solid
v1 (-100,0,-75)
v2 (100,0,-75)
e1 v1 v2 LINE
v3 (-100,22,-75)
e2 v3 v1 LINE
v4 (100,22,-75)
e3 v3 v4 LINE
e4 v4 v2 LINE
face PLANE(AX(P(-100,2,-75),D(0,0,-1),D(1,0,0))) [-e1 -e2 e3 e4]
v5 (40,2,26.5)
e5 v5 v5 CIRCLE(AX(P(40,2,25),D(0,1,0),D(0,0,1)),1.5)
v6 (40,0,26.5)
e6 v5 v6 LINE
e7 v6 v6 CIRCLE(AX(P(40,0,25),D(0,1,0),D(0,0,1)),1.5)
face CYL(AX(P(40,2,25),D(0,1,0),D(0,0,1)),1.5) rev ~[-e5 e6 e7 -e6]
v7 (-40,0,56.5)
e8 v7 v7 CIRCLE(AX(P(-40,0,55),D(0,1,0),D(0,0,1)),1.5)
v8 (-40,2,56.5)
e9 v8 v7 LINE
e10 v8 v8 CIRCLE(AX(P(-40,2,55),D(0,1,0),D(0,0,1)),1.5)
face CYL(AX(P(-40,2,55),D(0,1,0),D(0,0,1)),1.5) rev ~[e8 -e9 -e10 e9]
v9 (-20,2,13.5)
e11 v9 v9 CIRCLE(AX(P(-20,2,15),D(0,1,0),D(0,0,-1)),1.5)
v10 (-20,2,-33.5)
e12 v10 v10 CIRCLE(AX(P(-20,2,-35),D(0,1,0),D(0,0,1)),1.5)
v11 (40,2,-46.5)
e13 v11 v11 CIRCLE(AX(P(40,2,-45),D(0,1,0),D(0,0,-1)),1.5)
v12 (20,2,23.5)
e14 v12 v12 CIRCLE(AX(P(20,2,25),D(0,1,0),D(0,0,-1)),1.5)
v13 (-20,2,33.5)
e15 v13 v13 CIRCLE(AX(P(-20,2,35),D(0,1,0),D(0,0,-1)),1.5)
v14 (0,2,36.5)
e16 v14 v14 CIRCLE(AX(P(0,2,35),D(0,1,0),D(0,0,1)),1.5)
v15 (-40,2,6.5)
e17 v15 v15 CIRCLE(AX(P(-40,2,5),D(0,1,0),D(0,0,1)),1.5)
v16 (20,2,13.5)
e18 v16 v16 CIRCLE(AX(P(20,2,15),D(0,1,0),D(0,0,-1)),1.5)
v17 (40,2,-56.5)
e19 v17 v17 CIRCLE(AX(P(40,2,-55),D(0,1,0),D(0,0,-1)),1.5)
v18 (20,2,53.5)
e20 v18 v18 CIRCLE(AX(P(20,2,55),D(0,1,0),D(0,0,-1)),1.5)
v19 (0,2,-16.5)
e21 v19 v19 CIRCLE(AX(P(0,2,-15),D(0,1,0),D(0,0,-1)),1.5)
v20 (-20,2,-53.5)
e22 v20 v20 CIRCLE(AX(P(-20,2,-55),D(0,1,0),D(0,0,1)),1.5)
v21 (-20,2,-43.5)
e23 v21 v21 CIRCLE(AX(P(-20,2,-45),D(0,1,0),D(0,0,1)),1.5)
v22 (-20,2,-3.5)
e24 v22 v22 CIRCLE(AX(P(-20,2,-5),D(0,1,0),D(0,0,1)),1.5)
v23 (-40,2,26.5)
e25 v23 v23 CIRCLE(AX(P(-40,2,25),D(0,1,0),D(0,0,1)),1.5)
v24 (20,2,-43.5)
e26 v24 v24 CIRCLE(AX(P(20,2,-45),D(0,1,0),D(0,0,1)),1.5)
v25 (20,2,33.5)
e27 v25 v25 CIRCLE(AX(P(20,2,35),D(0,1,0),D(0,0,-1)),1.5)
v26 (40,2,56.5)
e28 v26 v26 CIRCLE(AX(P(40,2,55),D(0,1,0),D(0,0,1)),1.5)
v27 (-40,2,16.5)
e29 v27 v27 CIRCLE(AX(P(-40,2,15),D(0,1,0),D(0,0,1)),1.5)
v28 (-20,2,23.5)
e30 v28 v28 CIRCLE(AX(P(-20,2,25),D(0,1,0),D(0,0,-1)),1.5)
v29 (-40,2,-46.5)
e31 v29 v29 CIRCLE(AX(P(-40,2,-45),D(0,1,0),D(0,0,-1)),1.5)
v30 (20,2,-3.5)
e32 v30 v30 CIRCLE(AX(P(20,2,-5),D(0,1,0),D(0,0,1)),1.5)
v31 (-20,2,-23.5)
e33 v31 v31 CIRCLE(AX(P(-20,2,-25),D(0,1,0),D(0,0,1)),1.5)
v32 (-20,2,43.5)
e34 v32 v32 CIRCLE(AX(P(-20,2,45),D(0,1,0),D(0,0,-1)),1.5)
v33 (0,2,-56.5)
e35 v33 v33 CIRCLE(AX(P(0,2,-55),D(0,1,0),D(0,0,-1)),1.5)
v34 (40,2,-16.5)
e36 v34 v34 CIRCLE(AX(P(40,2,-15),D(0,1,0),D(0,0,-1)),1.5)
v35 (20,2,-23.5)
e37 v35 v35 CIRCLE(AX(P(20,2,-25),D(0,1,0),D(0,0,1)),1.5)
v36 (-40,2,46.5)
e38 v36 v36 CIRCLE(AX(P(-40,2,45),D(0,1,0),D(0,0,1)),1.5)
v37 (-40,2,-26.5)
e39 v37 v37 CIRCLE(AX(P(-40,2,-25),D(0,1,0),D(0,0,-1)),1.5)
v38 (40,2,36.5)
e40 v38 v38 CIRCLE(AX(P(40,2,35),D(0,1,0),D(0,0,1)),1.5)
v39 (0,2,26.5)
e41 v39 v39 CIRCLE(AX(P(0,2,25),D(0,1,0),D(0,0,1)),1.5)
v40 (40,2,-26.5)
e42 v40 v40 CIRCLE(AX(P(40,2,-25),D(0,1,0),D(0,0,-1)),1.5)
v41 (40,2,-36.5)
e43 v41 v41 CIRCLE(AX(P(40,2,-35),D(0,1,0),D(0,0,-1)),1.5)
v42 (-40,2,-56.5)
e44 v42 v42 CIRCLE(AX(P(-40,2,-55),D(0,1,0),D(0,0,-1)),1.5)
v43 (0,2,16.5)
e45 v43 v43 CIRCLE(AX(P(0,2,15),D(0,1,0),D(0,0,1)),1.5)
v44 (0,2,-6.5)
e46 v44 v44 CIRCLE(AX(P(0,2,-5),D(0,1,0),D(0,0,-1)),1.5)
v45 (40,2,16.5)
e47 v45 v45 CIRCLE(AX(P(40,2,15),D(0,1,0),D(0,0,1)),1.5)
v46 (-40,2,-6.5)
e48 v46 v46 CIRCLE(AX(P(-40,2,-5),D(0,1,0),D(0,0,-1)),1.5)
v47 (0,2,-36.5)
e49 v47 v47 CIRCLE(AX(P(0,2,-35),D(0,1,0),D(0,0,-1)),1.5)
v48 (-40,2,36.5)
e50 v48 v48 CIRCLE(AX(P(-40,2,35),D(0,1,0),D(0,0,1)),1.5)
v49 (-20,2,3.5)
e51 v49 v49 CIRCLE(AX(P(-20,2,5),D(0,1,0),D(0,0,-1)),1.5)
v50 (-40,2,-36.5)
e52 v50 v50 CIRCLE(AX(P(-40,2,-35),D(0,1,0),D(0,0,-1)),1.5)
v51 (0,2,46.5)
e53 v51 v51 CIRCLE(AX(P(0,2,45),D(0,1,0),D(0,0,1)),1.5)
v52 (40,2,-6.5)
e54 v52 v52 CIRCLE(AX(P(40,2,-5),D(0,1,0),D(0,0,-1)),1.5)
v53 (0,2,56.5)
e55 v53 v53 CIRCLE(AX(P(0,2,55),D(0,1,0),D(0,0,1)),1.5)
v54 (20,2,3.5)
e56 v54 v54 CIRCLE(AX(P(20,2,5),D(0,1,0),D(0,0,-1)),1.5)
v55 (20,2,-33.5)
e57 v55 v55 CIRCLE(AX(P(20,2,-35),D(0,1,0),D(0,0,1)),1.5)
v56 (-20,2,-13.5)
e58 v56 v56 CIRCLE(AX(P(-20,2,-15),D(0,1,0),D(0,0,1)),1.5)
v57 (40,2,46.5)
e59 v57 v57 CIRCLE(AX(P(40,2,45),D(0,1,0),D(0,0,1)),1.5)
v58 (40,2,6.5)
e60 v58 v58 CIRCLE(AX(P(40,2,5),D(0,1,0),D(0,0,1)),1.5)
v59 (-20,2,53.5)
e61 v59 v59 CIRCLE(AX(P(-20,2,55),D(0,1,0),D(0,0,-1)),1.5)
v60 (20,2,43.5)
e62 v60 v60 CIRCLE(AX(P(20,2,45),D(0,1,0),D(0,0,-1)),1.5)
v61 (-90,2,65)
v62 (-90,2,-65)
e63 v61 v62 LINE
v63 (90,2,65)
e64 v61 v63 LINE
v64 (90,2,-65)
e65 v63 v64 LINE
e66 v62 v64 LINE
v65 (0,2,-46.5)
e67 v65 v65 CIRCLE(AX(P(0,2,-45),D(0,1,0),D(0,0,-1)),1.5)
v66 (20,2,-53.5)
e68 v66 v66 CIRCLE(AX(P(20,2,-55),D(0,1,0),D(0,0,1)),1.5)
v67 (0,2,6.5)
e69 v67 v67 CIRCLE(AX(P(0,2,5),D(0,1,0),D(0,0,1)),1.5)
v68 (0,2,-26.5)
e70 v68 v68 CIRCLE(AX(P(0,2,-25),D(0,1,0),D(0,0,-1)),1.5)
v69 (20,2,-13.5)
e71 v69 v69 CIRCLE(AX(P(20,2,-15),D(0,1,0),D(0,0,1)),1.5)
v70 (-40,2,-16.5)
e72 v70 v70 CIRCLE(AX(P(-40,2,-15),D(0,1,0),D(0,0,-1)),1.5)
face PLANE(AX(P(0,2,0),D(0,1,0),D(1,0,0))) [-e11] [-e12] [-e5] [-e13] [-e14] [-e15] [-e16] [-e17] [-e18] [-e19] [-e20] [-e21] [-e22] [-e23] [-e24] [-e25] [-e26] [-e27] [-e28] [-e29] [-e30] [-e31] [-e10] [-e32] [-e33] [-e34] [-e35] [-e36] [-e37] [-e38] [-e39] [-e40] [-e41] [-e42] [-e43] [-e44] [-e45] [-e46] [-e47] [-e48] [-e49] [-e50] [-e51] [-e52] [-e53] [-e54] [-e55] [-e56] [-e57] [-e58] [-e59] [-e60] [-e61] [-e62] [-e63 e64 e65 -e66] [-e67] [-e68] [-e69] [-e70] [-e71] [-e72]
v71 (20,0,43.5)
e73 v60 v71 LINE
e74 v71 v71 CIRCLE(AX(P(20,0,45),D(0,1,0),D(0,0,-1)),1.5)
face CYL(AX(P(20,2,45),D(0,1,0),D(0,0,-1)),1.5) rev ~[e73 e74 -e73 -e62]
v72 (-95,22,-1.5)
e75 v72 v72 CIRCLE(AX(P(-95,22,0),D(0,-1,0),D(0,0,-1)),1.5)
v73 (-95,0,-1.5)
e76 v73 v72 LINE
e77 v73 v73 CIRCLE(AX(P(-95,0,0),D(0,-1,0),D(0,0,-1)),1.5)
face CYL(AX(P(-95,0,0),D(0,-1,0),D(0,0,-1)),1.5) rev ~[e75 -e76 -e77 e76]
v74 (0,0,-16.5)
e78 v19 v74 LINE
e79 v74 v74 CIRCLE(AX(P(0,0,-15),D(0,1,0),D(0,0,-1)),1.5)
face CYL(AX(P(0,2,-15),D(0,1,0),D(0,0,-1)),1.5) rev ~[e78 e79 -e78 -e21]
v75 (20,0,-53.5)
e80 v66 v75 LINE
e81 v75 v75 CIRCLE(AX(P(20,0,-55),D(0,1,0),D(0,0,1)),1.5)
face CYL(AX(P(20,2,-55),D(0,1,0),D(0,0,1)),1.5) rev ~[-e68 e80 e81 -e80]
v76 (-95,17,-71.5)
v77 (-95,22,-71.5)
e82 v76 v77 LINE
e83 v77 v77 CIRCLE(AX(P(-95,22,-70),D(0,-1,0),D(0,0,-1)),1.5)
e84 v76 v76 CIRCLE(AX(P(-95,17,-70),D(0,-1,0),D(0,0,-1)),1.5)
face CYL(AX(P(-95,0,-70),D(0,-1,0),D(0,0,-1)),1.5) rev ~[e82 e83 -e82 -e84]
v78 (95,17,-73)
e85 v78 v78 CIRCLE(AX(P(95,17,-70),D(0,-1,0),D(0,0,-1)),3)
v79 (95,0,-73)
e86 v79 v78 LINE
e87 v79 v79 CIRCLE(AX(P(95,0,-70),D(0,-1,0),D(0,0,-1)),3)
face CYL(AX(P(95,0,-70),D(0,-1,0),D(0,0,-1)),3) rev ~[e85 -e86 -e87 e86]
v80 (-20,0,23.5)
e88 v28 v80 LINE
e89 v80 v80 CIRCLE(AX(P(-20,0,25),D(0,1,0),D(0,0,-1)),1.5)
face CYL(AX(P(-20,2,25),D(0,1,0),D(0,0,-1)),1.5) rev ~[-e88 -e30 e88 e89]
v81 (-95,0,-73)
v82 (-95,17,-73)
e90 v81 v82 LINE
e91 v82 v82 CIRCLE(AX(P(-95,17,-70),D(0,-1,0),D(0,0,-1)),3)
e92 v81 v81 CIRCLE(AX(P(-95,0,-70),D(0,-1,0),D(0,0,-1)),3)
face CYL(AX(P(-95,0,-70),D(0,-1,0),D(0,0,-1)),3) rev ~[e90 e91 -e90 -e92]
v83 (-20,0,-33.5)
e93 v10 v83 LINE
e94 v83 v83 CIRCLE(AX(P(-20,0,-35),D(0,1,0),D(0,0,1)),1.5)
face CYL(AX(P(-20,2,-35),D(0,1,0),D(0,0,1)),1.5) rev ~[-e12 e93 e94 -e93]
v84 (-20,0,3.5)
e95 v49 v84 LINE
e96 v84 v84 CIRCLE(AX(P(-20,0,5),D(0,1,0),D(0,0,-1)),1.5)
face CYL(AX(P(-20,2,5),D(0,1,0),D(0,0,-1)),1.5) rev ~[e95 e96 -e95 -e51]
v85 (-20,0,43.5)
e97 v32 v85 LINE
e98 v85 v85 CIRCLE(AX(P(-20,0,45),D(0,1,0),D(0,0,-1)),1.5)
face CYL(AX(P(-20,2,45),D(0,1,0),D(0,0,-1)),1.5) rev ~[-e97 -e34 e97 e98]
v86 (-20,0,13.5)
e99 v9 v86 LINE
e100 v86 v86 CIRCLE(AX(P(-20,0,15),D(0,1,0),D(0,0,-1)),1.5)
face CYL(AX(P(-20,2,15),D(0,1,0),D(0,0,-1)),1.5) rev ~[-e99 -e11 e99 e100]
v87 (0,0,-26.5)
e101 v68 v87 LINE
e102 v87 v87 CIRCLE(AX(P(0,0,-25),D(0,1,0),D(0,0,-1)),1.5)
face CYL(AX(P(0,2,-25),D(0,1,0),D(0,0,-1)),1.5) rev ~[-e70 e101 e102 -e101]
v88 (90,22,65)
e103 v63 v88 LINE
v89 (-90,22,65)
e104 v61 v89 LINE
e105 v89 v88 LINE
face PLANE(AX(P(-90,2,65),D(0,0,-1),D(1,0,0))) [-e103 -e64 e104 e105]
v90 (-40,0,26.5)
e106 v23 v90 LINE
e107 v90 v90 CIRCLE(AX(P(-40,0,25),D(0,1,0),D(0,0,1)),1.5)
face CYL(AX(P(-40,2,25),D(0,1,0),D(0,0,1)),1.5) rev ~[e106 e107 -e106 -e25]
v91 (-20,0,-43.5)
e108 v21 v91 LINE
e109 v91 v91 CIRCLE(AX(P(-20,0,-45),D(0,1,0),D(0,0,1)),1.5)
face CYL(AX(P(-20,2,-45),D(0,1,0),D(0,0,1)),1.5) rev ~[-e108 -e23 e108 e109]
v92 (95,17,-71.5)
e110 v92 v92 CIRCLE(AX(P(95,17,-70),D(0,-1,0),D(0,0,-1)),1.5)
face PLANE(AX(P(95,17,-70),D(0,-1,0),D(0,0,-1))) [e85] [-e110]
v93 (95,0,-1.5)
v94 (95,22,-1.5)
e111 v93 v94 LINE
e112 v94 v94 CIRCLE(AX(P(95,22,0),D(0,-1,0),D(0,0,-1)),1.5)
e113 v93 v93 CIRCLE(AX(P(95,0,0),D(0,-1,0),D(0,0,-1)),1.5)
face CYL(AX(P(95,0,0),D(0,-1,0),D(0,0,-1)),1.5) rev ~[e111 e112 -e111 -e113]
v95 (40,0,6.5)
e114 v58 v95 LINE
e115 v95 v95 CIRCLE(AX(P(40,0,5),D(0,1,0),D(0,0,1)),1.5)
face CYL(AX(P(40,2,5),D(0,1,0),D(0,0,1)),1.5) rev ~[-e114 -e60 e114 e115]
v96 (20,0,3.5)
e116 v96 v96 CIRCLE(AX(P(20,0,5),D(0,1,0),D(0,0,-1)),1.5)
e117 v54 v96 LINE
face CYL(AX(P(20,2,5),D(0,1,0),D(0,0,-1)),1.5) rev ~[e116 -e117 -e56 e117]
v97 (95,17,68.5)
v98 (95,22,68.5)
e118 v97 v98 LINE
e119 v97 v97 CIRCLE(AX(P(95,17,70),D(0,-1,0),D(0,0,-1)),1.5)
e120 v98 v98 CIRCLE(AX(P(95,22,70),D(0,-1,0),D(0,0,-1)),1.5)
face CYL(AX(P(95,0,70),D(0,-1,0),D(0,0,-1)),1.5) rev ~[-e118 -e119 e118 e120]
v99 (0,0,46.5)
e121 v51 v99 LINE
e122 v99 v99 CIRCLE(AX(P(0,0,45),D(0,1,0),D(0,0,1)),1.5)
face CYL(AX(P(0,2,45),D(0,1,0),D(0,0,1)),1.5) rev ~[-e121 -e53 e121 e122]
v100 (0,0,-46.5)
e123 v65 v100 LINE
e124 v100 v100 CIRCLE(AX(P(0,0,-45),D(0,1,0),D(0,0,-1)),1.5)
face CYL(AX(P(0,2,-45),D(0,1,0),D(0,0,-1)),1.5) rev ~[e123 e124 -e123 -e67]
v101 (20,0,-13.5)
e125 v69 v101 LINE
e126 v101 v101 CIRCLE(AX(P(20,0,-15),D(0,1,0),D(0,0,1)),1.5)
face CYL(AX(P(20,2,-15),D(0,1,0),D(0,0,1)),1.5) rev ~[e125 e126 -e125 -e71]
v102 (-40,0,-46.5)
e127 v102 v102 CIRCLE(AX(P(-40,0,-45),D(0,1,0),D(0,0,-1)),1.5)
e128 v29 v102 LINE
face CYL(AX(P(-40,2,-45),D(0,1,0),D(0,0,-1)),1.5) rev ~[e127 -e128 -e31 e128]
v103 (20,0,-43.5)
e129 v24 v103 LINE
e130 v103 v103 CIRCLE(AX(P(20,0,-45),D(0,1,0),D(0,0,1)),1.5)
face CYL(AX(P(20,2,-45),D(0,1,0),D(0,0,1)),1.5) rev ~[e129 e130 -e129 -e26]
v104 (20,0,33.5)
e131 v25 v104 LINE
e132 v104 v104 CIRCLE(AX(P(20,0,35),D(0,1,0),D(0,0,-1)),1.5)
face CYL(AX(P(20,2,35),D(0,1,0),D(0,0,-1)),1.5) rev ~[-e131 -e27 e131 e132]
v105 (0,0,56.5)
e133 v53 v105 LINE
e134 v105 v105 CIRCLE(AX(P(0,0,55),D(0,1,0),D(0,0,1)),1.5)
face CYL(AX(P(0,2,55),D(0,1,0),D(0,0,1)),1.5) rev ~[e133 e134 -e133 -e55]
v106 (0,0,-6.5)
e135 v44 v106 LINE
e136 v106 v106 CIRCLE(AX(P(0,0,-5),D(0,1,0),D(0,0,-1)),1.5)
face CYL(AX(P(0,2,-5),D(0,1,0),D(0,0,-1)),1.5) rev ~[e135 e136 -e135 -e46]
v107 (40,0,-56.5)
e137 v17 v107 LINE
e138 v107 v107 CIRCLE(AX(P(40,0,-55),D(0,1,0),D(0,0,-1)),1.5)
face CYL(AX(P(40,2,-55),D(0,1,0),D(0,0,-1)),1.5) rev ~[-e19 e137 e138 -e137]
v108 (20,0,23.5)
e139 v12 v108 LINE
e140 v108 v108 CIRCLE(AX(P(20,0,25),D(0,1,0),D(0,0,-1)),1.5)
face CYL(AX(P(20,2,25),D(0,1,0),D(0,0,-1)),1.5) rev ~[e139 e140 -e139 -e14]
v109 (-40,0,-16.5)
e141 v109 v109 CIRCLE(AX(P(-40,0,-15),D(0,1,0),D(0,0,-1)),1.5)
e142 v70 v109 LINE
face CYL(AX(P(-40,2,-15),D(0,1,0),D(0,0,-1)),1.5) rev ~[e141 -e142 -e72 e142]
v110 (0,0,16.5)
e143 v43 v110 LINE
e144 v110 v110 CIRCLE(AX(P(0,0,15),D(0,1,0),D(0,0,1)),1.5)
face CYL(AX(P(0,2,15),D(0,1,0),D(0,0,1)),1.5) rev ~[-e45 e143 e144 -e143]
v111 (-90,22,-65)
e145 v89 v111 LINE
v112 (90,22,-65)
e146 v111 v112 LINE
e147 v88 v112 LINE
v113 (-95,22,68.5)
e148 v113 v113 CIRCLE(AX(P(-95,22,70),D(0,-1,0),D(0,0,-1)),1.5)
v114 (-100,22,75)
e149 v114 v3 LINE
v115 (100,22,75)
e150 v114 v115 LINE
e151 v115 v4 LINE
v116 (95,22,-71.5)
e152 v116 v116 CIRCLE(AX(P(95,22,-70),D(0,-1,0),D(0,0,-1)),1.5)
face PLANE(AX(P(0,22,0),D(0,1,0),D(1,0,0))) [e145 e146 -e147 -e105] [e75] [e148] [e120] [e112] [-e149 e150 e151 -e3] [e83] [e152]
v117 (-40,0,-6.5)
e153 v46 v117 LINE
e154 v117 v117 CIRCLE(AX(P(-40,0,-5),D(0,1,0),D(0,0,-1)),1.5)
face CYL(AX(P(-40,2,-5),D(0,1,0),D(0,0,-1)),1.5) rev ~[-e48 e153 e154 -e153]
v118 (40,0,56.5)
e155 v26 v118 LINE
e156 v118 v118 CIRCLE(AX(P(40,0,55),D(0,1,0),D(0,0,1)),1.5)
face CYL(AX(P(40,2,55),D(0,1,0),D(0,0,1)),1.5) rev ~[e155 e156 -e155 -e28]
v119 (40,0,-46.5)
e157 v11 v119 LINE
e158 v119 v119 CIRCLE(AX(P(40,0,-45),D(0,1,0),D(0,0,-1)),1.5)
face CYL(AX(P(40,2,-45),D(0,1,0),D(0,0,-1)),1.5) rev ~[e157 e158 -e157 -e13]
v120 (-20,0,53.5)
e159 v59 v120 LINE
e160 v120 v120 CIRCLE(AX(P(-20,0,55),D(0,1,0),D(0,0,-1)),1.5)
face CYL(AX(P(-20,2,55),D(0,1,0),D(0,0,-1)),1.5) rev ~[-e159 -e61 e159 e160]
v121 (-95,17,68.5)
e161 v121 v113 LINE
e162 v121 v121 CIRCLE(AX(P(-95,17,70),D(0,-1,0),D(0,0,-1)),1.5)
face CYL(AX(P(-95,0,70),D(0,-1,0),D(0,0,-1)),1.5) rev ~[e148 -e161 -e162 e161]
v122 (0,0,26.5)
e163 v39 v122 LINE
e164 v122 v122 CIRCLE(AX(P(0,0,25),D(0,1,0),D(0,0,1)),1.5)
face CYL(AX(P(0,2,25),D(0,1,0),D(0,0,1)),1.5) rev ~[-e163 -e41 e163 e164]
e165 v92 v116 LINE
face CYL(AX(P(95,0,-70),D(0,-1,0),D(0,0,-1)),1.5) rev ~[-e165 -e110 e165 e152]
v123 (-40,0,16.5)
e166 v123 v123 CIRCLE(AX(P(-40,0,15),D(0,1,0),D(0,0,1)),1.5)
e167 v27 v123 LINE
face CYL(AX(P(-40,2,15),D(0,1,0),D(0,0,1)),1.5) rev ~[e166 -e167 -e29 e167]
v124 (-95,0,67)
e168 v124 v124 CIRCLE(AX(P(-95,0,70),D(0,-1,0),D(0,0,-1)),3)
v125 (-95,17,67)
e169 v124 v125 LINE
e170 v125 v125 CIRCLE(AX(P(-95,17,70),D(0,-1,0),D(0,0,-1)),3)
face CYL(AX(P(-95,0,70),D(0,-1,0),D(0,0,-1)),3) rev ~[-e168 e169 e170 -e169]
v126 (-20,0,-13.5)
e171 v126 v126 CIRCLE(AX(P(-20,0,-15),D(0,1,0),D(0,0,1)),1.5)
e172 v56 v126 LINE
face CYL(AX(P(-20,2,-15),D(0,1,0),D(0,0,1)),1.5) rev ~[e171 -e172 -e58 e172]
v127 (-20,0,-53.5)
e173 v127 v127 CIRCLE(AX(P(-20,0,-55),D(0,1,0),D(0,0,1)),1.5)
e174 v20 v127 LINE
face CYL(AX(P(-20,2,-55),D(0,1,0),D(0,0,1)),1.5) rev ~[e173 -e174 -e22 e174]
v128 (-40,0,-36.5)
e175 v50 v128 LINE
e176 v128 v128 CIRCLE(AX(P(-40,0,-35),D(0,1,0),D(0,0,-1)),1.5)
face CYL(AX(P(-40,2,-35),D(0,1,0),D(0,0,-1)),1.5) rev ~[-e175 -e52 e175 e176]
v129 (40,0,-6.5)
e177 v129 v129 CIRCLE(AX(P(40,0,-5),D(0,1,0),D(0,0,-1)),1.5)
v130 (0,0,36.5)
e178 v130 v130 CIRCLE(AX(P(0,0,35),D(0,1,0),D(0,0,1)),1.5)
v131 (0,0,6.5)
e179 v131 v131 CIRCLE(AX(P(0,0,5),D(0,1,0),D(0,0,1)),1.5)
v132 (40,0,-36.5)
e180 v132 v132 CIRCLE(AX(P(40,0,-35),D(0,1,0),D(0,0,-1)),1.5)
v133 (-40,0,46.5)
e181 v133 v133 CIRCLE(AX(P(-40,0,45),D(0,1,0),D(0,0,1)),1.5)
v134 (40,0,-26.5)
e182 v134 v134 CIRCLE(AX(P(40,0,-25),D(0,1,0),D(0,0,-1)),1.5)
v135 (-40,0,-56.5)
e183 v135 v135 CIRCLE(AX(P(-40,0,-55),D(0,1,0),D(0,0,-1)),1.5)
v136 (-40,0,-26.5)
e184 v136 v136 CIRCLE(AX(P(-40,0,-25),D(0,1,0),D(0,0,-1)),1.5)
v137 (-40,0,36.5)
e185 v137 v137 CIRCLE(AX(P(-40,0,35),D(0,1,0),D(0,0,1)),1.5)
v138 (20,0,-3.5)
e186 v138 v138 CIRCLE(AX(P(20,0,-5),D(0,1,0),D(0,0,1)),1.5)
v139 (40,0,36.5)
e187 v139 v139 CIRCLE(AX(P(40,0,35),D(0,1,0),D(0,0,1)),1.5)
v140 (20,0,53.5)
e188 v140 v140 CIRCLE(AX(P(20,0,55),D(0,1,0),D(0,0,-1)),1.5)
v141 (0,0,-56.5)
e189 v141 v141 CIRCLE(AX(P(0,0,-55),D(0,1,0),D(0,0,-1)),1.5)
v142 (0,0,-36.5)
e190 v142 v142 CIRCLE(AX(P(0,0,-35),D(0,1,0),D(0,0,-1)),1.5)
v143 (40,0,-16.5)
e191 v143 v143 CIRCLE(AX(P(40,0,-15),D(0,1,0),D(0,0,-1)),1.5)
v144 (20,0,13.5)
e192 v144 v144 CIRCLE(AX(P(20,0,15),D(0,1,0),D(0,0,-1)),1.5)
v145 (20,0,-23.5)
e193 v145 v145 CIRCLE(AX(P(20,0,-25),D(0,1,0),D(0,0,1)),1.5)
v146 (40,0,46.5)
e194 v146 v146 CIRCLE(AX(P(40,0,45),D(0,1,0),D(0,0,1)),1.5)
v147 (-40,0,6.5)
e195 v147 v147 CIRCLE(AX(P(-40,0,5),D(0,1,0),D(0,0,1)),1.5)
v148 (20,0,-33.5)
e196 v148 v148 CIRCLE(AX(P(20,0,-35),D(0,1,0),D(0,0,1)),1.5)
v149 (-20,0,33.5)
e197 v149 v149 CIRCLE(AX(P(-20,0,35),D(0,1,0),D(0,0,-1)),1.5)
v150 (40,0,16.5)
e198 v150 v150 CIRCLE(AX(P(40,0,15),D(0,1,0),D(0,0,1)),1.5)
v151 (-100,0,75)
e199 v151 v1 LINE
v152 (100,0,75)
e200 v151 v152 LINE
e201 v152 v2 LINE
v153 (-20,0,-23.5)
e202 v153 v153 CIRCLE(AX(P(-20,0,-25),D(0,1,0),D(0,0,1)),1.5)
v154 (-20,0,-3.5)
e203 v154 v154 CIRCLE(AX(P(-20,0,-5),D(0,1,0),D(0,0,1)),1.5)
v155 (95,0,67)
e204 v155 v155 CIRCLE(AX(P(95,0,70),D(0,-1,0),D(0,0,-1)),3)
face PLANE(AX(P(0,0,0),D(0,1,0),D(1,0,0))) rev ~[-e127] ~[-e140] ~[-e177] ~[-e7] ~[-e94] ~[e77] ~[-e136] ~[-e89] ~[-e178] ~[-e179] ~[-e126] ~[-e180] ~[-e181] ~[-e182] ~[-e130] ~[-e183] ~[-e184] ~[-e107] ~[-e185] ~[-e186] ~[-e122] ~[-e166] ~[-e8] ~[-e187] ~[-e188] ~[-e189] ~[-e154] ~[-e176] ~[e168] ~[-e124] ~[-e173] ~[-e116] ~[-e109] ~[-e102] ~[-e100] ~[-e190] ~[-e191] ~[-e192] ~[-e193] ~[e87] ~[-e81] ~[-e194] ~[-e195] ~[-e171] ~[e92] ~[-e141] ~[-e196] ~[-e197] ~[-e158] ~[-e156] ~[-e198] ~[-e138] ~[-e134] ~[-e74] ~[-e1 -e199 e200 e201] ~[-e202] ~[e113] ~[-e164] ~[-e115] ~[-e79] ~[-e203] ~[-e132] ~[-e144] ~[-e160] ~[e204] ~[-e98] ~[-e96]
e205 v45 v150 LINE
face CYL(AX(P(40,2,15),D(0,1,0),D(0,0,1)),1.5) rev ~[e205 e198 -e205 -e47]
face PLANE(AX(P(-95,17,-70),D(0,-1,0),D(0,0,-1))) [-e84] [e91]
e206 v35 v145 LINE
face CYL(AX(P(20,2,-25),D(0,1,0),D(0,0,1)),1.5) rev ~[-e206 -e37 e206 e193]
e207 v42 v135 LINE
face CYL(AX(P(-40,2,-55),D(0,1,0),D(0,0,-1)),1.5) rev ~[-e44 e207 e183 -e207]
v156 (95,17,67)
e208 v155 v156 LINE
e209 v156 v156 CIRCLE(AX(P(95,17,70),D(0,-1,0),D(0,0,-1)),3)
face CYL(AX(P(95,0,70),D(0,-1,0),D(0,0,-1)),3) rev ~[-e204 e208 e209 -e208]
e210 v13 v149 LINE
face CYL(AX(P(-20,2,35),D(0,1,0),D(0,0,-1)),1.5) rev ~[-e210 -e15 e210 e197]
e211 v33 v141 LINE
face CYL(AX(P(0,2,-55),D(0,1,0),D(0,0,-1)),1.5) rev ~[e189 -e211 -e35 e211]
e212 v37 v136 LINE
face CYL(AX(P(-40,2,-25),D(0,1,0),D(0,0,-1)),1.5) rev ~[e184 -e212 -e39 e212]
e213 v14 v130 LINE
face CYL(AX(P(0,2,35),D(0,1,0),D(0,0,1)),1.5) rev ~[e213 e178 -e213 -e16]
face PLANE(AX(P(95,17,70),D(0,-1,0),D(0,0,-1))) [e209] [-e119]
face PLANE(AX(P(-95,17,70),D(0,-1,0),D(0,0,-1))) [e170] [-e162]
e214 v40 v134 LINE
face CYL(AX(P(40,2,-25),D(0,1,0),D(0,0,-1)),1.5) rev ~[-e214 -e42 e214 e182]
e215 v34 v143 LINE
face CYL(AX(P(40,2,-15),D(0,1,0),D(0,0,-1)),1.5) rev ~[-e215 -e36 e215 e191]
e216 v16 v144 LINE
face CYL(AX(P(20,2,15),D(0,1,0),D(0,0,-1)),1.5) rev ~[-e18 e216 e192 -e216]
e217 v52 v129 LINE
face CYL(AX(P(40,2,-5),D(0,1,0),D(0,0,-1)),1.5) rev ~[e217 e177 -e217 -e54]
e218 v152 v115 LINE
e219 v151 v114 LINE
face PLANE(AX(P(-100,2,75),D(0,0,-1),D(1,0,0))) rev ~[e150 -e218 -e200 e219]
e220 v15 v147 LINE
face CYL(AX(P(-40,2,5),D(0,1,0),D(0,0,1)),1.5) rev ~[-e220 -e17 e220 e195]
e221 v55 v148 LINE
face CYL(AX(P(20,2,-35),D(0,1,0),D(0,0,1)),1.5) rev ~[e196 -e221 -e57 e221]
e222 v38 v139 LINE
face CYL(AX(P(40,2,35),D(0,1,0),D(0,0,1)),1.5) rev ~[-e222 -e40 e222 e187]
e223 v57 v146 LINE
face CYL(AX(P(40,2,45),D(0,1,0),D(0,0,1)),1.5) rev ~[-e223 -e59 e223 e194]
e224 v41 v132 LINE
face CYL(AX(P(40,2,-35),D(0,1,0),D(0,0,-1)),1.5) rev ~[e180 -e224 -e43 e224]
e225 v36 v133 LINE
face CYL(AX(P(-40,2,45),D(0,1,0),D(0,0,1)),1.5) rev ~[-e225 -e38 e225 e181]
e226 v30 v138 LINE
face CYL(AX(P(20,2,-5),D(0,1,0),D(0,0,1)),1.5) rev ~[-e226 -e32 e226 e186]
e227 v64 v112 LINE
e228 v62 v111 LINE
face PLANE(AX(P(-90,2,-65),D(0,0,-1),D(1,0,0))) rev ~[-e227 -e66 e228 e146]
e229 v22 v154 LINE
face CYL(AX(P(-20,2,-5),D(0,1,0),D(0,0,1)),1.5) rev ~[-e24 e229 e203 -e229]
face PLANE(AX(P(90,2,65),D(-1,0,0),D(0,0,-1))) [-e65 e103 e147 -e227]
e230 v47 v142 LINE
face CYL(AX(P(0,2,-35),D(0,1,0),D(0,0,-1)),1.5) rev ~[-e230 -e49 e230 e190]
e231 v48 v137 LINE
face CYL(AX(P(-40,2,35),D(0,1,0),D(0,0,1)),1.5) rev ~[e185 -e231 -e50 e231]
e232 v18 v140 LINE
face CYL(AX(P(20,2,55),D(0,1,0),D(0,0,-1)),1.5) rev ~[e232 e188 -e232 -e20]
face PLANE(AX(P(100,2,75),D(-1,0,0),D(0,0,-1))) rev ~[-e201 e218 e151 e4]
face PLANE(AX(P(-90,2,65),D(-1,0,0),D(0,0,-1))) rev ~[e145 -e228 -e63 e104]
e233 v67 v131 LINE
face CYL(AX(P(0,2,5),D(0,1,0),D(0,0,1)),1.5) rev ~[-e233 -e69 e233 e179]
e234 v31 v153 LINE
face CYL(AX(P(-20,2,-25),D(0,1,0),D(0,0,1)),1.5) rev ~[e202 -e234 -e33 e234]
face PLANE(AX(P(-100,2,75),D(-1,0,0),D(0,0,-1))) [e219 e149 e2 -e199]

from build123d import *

# Parameters (mm, degrees)
SKETCH1_W           = 200
SKETCH1_H           = 150
BOSS_EXTRUDE1_DEPTH = 2
SKETCH2_R           = 1.5
CUT_EXTRUDE1_DEPTH  = 126.015998976
SKETCH3_W           = 200
SKETCH3_H           = 150
SKETCH3_W_2         = 180
SKETCH3_H_2         = 130
BOSS_EXTRUDE2_DEPTH = 20
SKETCH4_R           = 1.5
CUT_EXTRUDE2_DEPTH  = 127.921235418
SKETCH5_R           = 3
CUT_EXTRUDE3_DEPTH  = 17


with BuildPart() as part:
    # Sketch1 → Boss-Extrude1 (new body)
    with BuildSketch(Plane(origin=(0, 0, 0), x_dir=(1, 0, 0), z_dir=(0, 1, 0))):
        Rectangle(SKETCH1_W, SKETCH1_H)
    extrude(amount=BOSS_EXTRUDE1_DEPTH)

    # Sketch2 → Cut-Extrude1 (cut, through all)
    with BuildSketch(Plane(origin=(0, 2, 0), x_dir=(1, 0, 0), z_dir=(0, 1, 0))):
        with Locations(Location((0, -5, 0), (0, 0, 270))):
            Circle(SKETCH2_R)
        with Locations(Location((0, -15, 0), (0, 0, 270))):
            Circle(SKETCH2_R)
        with Locations(Location((0, -25, 0), (0, 0, 270))):
            Circle(SKETCH2_R)
        with Locations(Location((0, -35, 0), (0, 0, 270))):
            Circle(SKETCH2_R)
        with Locations(Location((0, -45, 0), (0, 0, 270))):
            Circle(SKETCH2_R)
        with Locations(Location((0, -55, 0), (0, 0, 270))):
            Circle(SKETCH2_R)
        with Locations(Location((0, 55, 0), (0, 0, 90))):
            Circle(SKETCH2_R)
        with Locations(Location((0, 45, 0), (0, 0, 90))):
            Circle(SKETCH2_R)
        with Locations(Location((0, 35, 0), (0, 0, 90))):
            Circle(SKETCH2_R)
        with Locations(Location((0, 25, 0), (0, 0, 90))):
            Circle(SKETCH2_R)
        with Locations(Location((0, 15, 0), (0, 0, 90))):
            Circle(SKETCH2_R)
        with Locations(Location((0, 5, 0), (0, 0, 90))):
            Circle(SKETCH2_R)
        with Locations(Location((20, -55, 0), (0, 0, 90))):
            Circle(SKETCH2_R)
        with Locations(Location((20, -45, 0), (0, 0, 90))):
            Circle(SKETCH2_R)
        with Locations(Location((20, -35, 0), (0, 0, 90))):
            Circle(SKETCH2_R)
        with Locations(Location((20, -25, 0), (0, 0, 90))):
            Circle(SKETCH2_R)
        with Locations(Location((20, -15, 0), (0, 0, 90))):
            Circle(SKETCH2_R)
        with Locations(Location((20, -5, 0), (0, 0, 90))):
            Circle(SKETCH2_R)
        with Locations(Location((20, 5, 0), (0, 0, 270))):
            Circle(SKETCH2_R)
        with Locations(Location((20, 15, 0), (0, 0, 270))):
            Circle(SKETCH2_R)
        with Locations(Location((20, 25, 0), (0, 0, 270))):
            Circle(SKETCH2_R)
        with Locations(Location((20, 35, 0), (0, 0, 270))):
            Circle(SKETCH2_R)
        with Locations(Location((20, 45, 0), (0, 0, 270))):
            Circle(SKETCH2_R)
        with Locations(Location((20, 55, 0), (0, 0, 270))):
            Circle(SKETCH2_R)
        with Locations(Location((-20, -55, 0), (0, 0, 90))):
            Circle(SKETCH2_R)
        with Locations(Location((-20, -45, 0), (0, 0, 90))):
            Circle(SKETCH2_R)
        with Locations(Location((-20, -35, 0), (0, 0, 90))):
            Circle(SKETCH2_R)
        with Locations(Location((-20, -25, 0), (0, 0, 90))):
            Circle(SKETCH2_R)
        with Locations(Location((-20, -15, 0), (0, 0, 90))):
            Circle(SKETCH2_R)
        with Locations(Location((-20, -5, 0), (0, 0, 90))):
            Circle(SKETCH2_R)
        with Locations(Location((-20, 5, 0), (0, 0, 270))):
            Circle(SKETCH2_R)
        with Locations(Location((-20, 15, 0), (0, 0, 270))):
            Circle(SKETCH2_R)
        with Locations(Location((-20, 25, 0), (0, 0, 270))):
            Circle(SKETCH2_R)
        with Locations(Location((-20, 35, 0), (0, 0, 270))):
            Circle(SKETCH2_R)
        with Locations(Location((-20, 45, 0), (0, 0, 270))):
            Circle(SKETCH2_R)
        with Locations(Location((-20, 55, 0), (0, 0, 270))):
            Circle(SKETCH2_R)
        with Locations(Location((40, -35, 0), (0, 0, 270))):
            Circle(SKETCH2_R)
        with Locations(Location((40, -45, 0), (0, 0, 270))):
            Circle(SKETCH2_R)
        with Locations(Location((40, -55, 0), (0, 0, 270))):
            Circle(SKETCH2_R)
        with Locations(Location((40, -5, 0), (0, 0, 270))):
            Circle(SKETCH2_R)
        with Locations(Location((40, -15, 0), (0, 0, 270))):
            Circle(SKETCH2_R)
        with Locations(Location((40, -25, 0), (0, 0, 270))):
            Circle(SKETCH2_R)
        with Locations(Location((40, 25, 0), (0, 0, 90))):
            Circle(SKETCH2_R)
        with Locations(Location((40, 15, 0), (0, 0, 90))):
            Circle(SKETCH2_R)
        with Locations(Location((40, 5, 0), (0, 0, 90))):
            Circle(SKETCH2_R)
        with Locations(Location((40, 55, 0), (0, 0, 90))):
            Circle(SKETCH2_R)
        with Locations(Location((40, 45, 0), (0, 0, 90))):
            Circle(SKETCH2_R)
        with Locations(Location((40, 35, 0), (0, 0, 90))):
            Circle(SKETCH2_R)
        with Locations(Location((-40, -55, 0), (0, 0, 270))):
            Circle(SKETCH2_R)
        with Locations(Location((-40, -45, 0), (0, 0, 270))):
            Circle(SKETCH2_R)
        with Locations(Location((-40, -35, 0), (0, 0, 270))):
            Circle(SKETCH2_R)
        with Locations(Location((-40, -25, 0), (0, 0, 270))):
            Circle(SKETCH2_R)
        with Locations(Location((-40, -15, 0), (0, 0, 270))):
            Circle(SKETCH2_R)
        with Locations(Location((-40, -5, 0), (0, 0, 270))):
            Circle(SKETCH2_R)
        with Locations(Location((-40, 15, 0), (0, 0, 90))):
            Circle(SKETCH2_R)
        with Locations(Location((-40, 5, 0), (0, 0, 90))):
            Circle(SKETCH2_R)
        with Locations(Location((-40, 35, 0), (0, 0, 90))):
            Circle(SKETCH2_R)
        with Locations(Location((-40, 25, 0), (0, 0, 90))):
            Circle(SKETCH2_R)
        with Locations(Location((-40, 55, 0), (0, 0, 90))):
            Circle(SKETCH2_R)
        with Locations(Location((-40, 45, 0), (0, 0, 90))):
            Circle(SKETCH2_R)
    extrude(amount=-CUT_EXTRUDE1_DEPTH, mode=Mode.SUBTRACT)

    # Sketch3 → Boss-Extrude2 (add)
    with BuildSketch(Plane(origin=(0, 2, 0), x_dir=(1, 0, 0), z_dir=(0, 1, 0))):
        Rectangle(SKETCH3_W, SKETCH3_H)
        Rectangle(SKETCH3_W_2, SKETCH3_H_2, mode=Mode.SUBTRACT)
    extrude(amount=BOSS_EXTRUDE2_DEPTH)

    # Sketch4 → Cut-Extrude2 (cut, through all)
    with BuildSketch(Plane.XZ):
        with Locations(Location((95, 70, 0), (0, 0, 270))):
            Circle(SKETCH4_R)
        with Locations(Location((95, -70, 0), (0, 0, 270))):
            Circle(SKETCH4_R)
        with Locations(Location((-95, 70, 0), (0, 0, 270))):
            Circle(SKETCH4_R)
        with Locations(Location((-95, -70, 0), (0, 0, 270))):
            Circle(SKETCH4_R)
        with Locations(Location((95, 0, 0), (0, 0, 270))):
            Circle(SKETCH4_R)
        with Locations(Location((-95, 0, 0), (0, 0, 270))):
            Circle(SKETCH4_R)
    extrude(amount=-CUT_EXTRUDE2_DEPTH, mode=Mode.SUBTRACT)

    # Sketch5 → Cut-Extrude3 (cut)
    with BuildSketch(Plane.XZ):
        with Locations(Location((95, 70, 0), (0, 0, 270))):
            Circle(SKETCH5_R)
        with Locations(Location((95, -70, 0), (0, 0, 270))):
            Circle(SKETCH5_R)
        with Locations(Location((-95, 70, 0), (0, 0, 270))):
            Circle(SKETCH5_R)
        with Locations(Location((-95, -70, 0), (0, 0, 270))):
            Circle(SKETCH5_R)
    extrude(amount=-CUT_EXTRUDE3_DEPTH, mode=Mode.SUBTRACT)


solid = part.part
